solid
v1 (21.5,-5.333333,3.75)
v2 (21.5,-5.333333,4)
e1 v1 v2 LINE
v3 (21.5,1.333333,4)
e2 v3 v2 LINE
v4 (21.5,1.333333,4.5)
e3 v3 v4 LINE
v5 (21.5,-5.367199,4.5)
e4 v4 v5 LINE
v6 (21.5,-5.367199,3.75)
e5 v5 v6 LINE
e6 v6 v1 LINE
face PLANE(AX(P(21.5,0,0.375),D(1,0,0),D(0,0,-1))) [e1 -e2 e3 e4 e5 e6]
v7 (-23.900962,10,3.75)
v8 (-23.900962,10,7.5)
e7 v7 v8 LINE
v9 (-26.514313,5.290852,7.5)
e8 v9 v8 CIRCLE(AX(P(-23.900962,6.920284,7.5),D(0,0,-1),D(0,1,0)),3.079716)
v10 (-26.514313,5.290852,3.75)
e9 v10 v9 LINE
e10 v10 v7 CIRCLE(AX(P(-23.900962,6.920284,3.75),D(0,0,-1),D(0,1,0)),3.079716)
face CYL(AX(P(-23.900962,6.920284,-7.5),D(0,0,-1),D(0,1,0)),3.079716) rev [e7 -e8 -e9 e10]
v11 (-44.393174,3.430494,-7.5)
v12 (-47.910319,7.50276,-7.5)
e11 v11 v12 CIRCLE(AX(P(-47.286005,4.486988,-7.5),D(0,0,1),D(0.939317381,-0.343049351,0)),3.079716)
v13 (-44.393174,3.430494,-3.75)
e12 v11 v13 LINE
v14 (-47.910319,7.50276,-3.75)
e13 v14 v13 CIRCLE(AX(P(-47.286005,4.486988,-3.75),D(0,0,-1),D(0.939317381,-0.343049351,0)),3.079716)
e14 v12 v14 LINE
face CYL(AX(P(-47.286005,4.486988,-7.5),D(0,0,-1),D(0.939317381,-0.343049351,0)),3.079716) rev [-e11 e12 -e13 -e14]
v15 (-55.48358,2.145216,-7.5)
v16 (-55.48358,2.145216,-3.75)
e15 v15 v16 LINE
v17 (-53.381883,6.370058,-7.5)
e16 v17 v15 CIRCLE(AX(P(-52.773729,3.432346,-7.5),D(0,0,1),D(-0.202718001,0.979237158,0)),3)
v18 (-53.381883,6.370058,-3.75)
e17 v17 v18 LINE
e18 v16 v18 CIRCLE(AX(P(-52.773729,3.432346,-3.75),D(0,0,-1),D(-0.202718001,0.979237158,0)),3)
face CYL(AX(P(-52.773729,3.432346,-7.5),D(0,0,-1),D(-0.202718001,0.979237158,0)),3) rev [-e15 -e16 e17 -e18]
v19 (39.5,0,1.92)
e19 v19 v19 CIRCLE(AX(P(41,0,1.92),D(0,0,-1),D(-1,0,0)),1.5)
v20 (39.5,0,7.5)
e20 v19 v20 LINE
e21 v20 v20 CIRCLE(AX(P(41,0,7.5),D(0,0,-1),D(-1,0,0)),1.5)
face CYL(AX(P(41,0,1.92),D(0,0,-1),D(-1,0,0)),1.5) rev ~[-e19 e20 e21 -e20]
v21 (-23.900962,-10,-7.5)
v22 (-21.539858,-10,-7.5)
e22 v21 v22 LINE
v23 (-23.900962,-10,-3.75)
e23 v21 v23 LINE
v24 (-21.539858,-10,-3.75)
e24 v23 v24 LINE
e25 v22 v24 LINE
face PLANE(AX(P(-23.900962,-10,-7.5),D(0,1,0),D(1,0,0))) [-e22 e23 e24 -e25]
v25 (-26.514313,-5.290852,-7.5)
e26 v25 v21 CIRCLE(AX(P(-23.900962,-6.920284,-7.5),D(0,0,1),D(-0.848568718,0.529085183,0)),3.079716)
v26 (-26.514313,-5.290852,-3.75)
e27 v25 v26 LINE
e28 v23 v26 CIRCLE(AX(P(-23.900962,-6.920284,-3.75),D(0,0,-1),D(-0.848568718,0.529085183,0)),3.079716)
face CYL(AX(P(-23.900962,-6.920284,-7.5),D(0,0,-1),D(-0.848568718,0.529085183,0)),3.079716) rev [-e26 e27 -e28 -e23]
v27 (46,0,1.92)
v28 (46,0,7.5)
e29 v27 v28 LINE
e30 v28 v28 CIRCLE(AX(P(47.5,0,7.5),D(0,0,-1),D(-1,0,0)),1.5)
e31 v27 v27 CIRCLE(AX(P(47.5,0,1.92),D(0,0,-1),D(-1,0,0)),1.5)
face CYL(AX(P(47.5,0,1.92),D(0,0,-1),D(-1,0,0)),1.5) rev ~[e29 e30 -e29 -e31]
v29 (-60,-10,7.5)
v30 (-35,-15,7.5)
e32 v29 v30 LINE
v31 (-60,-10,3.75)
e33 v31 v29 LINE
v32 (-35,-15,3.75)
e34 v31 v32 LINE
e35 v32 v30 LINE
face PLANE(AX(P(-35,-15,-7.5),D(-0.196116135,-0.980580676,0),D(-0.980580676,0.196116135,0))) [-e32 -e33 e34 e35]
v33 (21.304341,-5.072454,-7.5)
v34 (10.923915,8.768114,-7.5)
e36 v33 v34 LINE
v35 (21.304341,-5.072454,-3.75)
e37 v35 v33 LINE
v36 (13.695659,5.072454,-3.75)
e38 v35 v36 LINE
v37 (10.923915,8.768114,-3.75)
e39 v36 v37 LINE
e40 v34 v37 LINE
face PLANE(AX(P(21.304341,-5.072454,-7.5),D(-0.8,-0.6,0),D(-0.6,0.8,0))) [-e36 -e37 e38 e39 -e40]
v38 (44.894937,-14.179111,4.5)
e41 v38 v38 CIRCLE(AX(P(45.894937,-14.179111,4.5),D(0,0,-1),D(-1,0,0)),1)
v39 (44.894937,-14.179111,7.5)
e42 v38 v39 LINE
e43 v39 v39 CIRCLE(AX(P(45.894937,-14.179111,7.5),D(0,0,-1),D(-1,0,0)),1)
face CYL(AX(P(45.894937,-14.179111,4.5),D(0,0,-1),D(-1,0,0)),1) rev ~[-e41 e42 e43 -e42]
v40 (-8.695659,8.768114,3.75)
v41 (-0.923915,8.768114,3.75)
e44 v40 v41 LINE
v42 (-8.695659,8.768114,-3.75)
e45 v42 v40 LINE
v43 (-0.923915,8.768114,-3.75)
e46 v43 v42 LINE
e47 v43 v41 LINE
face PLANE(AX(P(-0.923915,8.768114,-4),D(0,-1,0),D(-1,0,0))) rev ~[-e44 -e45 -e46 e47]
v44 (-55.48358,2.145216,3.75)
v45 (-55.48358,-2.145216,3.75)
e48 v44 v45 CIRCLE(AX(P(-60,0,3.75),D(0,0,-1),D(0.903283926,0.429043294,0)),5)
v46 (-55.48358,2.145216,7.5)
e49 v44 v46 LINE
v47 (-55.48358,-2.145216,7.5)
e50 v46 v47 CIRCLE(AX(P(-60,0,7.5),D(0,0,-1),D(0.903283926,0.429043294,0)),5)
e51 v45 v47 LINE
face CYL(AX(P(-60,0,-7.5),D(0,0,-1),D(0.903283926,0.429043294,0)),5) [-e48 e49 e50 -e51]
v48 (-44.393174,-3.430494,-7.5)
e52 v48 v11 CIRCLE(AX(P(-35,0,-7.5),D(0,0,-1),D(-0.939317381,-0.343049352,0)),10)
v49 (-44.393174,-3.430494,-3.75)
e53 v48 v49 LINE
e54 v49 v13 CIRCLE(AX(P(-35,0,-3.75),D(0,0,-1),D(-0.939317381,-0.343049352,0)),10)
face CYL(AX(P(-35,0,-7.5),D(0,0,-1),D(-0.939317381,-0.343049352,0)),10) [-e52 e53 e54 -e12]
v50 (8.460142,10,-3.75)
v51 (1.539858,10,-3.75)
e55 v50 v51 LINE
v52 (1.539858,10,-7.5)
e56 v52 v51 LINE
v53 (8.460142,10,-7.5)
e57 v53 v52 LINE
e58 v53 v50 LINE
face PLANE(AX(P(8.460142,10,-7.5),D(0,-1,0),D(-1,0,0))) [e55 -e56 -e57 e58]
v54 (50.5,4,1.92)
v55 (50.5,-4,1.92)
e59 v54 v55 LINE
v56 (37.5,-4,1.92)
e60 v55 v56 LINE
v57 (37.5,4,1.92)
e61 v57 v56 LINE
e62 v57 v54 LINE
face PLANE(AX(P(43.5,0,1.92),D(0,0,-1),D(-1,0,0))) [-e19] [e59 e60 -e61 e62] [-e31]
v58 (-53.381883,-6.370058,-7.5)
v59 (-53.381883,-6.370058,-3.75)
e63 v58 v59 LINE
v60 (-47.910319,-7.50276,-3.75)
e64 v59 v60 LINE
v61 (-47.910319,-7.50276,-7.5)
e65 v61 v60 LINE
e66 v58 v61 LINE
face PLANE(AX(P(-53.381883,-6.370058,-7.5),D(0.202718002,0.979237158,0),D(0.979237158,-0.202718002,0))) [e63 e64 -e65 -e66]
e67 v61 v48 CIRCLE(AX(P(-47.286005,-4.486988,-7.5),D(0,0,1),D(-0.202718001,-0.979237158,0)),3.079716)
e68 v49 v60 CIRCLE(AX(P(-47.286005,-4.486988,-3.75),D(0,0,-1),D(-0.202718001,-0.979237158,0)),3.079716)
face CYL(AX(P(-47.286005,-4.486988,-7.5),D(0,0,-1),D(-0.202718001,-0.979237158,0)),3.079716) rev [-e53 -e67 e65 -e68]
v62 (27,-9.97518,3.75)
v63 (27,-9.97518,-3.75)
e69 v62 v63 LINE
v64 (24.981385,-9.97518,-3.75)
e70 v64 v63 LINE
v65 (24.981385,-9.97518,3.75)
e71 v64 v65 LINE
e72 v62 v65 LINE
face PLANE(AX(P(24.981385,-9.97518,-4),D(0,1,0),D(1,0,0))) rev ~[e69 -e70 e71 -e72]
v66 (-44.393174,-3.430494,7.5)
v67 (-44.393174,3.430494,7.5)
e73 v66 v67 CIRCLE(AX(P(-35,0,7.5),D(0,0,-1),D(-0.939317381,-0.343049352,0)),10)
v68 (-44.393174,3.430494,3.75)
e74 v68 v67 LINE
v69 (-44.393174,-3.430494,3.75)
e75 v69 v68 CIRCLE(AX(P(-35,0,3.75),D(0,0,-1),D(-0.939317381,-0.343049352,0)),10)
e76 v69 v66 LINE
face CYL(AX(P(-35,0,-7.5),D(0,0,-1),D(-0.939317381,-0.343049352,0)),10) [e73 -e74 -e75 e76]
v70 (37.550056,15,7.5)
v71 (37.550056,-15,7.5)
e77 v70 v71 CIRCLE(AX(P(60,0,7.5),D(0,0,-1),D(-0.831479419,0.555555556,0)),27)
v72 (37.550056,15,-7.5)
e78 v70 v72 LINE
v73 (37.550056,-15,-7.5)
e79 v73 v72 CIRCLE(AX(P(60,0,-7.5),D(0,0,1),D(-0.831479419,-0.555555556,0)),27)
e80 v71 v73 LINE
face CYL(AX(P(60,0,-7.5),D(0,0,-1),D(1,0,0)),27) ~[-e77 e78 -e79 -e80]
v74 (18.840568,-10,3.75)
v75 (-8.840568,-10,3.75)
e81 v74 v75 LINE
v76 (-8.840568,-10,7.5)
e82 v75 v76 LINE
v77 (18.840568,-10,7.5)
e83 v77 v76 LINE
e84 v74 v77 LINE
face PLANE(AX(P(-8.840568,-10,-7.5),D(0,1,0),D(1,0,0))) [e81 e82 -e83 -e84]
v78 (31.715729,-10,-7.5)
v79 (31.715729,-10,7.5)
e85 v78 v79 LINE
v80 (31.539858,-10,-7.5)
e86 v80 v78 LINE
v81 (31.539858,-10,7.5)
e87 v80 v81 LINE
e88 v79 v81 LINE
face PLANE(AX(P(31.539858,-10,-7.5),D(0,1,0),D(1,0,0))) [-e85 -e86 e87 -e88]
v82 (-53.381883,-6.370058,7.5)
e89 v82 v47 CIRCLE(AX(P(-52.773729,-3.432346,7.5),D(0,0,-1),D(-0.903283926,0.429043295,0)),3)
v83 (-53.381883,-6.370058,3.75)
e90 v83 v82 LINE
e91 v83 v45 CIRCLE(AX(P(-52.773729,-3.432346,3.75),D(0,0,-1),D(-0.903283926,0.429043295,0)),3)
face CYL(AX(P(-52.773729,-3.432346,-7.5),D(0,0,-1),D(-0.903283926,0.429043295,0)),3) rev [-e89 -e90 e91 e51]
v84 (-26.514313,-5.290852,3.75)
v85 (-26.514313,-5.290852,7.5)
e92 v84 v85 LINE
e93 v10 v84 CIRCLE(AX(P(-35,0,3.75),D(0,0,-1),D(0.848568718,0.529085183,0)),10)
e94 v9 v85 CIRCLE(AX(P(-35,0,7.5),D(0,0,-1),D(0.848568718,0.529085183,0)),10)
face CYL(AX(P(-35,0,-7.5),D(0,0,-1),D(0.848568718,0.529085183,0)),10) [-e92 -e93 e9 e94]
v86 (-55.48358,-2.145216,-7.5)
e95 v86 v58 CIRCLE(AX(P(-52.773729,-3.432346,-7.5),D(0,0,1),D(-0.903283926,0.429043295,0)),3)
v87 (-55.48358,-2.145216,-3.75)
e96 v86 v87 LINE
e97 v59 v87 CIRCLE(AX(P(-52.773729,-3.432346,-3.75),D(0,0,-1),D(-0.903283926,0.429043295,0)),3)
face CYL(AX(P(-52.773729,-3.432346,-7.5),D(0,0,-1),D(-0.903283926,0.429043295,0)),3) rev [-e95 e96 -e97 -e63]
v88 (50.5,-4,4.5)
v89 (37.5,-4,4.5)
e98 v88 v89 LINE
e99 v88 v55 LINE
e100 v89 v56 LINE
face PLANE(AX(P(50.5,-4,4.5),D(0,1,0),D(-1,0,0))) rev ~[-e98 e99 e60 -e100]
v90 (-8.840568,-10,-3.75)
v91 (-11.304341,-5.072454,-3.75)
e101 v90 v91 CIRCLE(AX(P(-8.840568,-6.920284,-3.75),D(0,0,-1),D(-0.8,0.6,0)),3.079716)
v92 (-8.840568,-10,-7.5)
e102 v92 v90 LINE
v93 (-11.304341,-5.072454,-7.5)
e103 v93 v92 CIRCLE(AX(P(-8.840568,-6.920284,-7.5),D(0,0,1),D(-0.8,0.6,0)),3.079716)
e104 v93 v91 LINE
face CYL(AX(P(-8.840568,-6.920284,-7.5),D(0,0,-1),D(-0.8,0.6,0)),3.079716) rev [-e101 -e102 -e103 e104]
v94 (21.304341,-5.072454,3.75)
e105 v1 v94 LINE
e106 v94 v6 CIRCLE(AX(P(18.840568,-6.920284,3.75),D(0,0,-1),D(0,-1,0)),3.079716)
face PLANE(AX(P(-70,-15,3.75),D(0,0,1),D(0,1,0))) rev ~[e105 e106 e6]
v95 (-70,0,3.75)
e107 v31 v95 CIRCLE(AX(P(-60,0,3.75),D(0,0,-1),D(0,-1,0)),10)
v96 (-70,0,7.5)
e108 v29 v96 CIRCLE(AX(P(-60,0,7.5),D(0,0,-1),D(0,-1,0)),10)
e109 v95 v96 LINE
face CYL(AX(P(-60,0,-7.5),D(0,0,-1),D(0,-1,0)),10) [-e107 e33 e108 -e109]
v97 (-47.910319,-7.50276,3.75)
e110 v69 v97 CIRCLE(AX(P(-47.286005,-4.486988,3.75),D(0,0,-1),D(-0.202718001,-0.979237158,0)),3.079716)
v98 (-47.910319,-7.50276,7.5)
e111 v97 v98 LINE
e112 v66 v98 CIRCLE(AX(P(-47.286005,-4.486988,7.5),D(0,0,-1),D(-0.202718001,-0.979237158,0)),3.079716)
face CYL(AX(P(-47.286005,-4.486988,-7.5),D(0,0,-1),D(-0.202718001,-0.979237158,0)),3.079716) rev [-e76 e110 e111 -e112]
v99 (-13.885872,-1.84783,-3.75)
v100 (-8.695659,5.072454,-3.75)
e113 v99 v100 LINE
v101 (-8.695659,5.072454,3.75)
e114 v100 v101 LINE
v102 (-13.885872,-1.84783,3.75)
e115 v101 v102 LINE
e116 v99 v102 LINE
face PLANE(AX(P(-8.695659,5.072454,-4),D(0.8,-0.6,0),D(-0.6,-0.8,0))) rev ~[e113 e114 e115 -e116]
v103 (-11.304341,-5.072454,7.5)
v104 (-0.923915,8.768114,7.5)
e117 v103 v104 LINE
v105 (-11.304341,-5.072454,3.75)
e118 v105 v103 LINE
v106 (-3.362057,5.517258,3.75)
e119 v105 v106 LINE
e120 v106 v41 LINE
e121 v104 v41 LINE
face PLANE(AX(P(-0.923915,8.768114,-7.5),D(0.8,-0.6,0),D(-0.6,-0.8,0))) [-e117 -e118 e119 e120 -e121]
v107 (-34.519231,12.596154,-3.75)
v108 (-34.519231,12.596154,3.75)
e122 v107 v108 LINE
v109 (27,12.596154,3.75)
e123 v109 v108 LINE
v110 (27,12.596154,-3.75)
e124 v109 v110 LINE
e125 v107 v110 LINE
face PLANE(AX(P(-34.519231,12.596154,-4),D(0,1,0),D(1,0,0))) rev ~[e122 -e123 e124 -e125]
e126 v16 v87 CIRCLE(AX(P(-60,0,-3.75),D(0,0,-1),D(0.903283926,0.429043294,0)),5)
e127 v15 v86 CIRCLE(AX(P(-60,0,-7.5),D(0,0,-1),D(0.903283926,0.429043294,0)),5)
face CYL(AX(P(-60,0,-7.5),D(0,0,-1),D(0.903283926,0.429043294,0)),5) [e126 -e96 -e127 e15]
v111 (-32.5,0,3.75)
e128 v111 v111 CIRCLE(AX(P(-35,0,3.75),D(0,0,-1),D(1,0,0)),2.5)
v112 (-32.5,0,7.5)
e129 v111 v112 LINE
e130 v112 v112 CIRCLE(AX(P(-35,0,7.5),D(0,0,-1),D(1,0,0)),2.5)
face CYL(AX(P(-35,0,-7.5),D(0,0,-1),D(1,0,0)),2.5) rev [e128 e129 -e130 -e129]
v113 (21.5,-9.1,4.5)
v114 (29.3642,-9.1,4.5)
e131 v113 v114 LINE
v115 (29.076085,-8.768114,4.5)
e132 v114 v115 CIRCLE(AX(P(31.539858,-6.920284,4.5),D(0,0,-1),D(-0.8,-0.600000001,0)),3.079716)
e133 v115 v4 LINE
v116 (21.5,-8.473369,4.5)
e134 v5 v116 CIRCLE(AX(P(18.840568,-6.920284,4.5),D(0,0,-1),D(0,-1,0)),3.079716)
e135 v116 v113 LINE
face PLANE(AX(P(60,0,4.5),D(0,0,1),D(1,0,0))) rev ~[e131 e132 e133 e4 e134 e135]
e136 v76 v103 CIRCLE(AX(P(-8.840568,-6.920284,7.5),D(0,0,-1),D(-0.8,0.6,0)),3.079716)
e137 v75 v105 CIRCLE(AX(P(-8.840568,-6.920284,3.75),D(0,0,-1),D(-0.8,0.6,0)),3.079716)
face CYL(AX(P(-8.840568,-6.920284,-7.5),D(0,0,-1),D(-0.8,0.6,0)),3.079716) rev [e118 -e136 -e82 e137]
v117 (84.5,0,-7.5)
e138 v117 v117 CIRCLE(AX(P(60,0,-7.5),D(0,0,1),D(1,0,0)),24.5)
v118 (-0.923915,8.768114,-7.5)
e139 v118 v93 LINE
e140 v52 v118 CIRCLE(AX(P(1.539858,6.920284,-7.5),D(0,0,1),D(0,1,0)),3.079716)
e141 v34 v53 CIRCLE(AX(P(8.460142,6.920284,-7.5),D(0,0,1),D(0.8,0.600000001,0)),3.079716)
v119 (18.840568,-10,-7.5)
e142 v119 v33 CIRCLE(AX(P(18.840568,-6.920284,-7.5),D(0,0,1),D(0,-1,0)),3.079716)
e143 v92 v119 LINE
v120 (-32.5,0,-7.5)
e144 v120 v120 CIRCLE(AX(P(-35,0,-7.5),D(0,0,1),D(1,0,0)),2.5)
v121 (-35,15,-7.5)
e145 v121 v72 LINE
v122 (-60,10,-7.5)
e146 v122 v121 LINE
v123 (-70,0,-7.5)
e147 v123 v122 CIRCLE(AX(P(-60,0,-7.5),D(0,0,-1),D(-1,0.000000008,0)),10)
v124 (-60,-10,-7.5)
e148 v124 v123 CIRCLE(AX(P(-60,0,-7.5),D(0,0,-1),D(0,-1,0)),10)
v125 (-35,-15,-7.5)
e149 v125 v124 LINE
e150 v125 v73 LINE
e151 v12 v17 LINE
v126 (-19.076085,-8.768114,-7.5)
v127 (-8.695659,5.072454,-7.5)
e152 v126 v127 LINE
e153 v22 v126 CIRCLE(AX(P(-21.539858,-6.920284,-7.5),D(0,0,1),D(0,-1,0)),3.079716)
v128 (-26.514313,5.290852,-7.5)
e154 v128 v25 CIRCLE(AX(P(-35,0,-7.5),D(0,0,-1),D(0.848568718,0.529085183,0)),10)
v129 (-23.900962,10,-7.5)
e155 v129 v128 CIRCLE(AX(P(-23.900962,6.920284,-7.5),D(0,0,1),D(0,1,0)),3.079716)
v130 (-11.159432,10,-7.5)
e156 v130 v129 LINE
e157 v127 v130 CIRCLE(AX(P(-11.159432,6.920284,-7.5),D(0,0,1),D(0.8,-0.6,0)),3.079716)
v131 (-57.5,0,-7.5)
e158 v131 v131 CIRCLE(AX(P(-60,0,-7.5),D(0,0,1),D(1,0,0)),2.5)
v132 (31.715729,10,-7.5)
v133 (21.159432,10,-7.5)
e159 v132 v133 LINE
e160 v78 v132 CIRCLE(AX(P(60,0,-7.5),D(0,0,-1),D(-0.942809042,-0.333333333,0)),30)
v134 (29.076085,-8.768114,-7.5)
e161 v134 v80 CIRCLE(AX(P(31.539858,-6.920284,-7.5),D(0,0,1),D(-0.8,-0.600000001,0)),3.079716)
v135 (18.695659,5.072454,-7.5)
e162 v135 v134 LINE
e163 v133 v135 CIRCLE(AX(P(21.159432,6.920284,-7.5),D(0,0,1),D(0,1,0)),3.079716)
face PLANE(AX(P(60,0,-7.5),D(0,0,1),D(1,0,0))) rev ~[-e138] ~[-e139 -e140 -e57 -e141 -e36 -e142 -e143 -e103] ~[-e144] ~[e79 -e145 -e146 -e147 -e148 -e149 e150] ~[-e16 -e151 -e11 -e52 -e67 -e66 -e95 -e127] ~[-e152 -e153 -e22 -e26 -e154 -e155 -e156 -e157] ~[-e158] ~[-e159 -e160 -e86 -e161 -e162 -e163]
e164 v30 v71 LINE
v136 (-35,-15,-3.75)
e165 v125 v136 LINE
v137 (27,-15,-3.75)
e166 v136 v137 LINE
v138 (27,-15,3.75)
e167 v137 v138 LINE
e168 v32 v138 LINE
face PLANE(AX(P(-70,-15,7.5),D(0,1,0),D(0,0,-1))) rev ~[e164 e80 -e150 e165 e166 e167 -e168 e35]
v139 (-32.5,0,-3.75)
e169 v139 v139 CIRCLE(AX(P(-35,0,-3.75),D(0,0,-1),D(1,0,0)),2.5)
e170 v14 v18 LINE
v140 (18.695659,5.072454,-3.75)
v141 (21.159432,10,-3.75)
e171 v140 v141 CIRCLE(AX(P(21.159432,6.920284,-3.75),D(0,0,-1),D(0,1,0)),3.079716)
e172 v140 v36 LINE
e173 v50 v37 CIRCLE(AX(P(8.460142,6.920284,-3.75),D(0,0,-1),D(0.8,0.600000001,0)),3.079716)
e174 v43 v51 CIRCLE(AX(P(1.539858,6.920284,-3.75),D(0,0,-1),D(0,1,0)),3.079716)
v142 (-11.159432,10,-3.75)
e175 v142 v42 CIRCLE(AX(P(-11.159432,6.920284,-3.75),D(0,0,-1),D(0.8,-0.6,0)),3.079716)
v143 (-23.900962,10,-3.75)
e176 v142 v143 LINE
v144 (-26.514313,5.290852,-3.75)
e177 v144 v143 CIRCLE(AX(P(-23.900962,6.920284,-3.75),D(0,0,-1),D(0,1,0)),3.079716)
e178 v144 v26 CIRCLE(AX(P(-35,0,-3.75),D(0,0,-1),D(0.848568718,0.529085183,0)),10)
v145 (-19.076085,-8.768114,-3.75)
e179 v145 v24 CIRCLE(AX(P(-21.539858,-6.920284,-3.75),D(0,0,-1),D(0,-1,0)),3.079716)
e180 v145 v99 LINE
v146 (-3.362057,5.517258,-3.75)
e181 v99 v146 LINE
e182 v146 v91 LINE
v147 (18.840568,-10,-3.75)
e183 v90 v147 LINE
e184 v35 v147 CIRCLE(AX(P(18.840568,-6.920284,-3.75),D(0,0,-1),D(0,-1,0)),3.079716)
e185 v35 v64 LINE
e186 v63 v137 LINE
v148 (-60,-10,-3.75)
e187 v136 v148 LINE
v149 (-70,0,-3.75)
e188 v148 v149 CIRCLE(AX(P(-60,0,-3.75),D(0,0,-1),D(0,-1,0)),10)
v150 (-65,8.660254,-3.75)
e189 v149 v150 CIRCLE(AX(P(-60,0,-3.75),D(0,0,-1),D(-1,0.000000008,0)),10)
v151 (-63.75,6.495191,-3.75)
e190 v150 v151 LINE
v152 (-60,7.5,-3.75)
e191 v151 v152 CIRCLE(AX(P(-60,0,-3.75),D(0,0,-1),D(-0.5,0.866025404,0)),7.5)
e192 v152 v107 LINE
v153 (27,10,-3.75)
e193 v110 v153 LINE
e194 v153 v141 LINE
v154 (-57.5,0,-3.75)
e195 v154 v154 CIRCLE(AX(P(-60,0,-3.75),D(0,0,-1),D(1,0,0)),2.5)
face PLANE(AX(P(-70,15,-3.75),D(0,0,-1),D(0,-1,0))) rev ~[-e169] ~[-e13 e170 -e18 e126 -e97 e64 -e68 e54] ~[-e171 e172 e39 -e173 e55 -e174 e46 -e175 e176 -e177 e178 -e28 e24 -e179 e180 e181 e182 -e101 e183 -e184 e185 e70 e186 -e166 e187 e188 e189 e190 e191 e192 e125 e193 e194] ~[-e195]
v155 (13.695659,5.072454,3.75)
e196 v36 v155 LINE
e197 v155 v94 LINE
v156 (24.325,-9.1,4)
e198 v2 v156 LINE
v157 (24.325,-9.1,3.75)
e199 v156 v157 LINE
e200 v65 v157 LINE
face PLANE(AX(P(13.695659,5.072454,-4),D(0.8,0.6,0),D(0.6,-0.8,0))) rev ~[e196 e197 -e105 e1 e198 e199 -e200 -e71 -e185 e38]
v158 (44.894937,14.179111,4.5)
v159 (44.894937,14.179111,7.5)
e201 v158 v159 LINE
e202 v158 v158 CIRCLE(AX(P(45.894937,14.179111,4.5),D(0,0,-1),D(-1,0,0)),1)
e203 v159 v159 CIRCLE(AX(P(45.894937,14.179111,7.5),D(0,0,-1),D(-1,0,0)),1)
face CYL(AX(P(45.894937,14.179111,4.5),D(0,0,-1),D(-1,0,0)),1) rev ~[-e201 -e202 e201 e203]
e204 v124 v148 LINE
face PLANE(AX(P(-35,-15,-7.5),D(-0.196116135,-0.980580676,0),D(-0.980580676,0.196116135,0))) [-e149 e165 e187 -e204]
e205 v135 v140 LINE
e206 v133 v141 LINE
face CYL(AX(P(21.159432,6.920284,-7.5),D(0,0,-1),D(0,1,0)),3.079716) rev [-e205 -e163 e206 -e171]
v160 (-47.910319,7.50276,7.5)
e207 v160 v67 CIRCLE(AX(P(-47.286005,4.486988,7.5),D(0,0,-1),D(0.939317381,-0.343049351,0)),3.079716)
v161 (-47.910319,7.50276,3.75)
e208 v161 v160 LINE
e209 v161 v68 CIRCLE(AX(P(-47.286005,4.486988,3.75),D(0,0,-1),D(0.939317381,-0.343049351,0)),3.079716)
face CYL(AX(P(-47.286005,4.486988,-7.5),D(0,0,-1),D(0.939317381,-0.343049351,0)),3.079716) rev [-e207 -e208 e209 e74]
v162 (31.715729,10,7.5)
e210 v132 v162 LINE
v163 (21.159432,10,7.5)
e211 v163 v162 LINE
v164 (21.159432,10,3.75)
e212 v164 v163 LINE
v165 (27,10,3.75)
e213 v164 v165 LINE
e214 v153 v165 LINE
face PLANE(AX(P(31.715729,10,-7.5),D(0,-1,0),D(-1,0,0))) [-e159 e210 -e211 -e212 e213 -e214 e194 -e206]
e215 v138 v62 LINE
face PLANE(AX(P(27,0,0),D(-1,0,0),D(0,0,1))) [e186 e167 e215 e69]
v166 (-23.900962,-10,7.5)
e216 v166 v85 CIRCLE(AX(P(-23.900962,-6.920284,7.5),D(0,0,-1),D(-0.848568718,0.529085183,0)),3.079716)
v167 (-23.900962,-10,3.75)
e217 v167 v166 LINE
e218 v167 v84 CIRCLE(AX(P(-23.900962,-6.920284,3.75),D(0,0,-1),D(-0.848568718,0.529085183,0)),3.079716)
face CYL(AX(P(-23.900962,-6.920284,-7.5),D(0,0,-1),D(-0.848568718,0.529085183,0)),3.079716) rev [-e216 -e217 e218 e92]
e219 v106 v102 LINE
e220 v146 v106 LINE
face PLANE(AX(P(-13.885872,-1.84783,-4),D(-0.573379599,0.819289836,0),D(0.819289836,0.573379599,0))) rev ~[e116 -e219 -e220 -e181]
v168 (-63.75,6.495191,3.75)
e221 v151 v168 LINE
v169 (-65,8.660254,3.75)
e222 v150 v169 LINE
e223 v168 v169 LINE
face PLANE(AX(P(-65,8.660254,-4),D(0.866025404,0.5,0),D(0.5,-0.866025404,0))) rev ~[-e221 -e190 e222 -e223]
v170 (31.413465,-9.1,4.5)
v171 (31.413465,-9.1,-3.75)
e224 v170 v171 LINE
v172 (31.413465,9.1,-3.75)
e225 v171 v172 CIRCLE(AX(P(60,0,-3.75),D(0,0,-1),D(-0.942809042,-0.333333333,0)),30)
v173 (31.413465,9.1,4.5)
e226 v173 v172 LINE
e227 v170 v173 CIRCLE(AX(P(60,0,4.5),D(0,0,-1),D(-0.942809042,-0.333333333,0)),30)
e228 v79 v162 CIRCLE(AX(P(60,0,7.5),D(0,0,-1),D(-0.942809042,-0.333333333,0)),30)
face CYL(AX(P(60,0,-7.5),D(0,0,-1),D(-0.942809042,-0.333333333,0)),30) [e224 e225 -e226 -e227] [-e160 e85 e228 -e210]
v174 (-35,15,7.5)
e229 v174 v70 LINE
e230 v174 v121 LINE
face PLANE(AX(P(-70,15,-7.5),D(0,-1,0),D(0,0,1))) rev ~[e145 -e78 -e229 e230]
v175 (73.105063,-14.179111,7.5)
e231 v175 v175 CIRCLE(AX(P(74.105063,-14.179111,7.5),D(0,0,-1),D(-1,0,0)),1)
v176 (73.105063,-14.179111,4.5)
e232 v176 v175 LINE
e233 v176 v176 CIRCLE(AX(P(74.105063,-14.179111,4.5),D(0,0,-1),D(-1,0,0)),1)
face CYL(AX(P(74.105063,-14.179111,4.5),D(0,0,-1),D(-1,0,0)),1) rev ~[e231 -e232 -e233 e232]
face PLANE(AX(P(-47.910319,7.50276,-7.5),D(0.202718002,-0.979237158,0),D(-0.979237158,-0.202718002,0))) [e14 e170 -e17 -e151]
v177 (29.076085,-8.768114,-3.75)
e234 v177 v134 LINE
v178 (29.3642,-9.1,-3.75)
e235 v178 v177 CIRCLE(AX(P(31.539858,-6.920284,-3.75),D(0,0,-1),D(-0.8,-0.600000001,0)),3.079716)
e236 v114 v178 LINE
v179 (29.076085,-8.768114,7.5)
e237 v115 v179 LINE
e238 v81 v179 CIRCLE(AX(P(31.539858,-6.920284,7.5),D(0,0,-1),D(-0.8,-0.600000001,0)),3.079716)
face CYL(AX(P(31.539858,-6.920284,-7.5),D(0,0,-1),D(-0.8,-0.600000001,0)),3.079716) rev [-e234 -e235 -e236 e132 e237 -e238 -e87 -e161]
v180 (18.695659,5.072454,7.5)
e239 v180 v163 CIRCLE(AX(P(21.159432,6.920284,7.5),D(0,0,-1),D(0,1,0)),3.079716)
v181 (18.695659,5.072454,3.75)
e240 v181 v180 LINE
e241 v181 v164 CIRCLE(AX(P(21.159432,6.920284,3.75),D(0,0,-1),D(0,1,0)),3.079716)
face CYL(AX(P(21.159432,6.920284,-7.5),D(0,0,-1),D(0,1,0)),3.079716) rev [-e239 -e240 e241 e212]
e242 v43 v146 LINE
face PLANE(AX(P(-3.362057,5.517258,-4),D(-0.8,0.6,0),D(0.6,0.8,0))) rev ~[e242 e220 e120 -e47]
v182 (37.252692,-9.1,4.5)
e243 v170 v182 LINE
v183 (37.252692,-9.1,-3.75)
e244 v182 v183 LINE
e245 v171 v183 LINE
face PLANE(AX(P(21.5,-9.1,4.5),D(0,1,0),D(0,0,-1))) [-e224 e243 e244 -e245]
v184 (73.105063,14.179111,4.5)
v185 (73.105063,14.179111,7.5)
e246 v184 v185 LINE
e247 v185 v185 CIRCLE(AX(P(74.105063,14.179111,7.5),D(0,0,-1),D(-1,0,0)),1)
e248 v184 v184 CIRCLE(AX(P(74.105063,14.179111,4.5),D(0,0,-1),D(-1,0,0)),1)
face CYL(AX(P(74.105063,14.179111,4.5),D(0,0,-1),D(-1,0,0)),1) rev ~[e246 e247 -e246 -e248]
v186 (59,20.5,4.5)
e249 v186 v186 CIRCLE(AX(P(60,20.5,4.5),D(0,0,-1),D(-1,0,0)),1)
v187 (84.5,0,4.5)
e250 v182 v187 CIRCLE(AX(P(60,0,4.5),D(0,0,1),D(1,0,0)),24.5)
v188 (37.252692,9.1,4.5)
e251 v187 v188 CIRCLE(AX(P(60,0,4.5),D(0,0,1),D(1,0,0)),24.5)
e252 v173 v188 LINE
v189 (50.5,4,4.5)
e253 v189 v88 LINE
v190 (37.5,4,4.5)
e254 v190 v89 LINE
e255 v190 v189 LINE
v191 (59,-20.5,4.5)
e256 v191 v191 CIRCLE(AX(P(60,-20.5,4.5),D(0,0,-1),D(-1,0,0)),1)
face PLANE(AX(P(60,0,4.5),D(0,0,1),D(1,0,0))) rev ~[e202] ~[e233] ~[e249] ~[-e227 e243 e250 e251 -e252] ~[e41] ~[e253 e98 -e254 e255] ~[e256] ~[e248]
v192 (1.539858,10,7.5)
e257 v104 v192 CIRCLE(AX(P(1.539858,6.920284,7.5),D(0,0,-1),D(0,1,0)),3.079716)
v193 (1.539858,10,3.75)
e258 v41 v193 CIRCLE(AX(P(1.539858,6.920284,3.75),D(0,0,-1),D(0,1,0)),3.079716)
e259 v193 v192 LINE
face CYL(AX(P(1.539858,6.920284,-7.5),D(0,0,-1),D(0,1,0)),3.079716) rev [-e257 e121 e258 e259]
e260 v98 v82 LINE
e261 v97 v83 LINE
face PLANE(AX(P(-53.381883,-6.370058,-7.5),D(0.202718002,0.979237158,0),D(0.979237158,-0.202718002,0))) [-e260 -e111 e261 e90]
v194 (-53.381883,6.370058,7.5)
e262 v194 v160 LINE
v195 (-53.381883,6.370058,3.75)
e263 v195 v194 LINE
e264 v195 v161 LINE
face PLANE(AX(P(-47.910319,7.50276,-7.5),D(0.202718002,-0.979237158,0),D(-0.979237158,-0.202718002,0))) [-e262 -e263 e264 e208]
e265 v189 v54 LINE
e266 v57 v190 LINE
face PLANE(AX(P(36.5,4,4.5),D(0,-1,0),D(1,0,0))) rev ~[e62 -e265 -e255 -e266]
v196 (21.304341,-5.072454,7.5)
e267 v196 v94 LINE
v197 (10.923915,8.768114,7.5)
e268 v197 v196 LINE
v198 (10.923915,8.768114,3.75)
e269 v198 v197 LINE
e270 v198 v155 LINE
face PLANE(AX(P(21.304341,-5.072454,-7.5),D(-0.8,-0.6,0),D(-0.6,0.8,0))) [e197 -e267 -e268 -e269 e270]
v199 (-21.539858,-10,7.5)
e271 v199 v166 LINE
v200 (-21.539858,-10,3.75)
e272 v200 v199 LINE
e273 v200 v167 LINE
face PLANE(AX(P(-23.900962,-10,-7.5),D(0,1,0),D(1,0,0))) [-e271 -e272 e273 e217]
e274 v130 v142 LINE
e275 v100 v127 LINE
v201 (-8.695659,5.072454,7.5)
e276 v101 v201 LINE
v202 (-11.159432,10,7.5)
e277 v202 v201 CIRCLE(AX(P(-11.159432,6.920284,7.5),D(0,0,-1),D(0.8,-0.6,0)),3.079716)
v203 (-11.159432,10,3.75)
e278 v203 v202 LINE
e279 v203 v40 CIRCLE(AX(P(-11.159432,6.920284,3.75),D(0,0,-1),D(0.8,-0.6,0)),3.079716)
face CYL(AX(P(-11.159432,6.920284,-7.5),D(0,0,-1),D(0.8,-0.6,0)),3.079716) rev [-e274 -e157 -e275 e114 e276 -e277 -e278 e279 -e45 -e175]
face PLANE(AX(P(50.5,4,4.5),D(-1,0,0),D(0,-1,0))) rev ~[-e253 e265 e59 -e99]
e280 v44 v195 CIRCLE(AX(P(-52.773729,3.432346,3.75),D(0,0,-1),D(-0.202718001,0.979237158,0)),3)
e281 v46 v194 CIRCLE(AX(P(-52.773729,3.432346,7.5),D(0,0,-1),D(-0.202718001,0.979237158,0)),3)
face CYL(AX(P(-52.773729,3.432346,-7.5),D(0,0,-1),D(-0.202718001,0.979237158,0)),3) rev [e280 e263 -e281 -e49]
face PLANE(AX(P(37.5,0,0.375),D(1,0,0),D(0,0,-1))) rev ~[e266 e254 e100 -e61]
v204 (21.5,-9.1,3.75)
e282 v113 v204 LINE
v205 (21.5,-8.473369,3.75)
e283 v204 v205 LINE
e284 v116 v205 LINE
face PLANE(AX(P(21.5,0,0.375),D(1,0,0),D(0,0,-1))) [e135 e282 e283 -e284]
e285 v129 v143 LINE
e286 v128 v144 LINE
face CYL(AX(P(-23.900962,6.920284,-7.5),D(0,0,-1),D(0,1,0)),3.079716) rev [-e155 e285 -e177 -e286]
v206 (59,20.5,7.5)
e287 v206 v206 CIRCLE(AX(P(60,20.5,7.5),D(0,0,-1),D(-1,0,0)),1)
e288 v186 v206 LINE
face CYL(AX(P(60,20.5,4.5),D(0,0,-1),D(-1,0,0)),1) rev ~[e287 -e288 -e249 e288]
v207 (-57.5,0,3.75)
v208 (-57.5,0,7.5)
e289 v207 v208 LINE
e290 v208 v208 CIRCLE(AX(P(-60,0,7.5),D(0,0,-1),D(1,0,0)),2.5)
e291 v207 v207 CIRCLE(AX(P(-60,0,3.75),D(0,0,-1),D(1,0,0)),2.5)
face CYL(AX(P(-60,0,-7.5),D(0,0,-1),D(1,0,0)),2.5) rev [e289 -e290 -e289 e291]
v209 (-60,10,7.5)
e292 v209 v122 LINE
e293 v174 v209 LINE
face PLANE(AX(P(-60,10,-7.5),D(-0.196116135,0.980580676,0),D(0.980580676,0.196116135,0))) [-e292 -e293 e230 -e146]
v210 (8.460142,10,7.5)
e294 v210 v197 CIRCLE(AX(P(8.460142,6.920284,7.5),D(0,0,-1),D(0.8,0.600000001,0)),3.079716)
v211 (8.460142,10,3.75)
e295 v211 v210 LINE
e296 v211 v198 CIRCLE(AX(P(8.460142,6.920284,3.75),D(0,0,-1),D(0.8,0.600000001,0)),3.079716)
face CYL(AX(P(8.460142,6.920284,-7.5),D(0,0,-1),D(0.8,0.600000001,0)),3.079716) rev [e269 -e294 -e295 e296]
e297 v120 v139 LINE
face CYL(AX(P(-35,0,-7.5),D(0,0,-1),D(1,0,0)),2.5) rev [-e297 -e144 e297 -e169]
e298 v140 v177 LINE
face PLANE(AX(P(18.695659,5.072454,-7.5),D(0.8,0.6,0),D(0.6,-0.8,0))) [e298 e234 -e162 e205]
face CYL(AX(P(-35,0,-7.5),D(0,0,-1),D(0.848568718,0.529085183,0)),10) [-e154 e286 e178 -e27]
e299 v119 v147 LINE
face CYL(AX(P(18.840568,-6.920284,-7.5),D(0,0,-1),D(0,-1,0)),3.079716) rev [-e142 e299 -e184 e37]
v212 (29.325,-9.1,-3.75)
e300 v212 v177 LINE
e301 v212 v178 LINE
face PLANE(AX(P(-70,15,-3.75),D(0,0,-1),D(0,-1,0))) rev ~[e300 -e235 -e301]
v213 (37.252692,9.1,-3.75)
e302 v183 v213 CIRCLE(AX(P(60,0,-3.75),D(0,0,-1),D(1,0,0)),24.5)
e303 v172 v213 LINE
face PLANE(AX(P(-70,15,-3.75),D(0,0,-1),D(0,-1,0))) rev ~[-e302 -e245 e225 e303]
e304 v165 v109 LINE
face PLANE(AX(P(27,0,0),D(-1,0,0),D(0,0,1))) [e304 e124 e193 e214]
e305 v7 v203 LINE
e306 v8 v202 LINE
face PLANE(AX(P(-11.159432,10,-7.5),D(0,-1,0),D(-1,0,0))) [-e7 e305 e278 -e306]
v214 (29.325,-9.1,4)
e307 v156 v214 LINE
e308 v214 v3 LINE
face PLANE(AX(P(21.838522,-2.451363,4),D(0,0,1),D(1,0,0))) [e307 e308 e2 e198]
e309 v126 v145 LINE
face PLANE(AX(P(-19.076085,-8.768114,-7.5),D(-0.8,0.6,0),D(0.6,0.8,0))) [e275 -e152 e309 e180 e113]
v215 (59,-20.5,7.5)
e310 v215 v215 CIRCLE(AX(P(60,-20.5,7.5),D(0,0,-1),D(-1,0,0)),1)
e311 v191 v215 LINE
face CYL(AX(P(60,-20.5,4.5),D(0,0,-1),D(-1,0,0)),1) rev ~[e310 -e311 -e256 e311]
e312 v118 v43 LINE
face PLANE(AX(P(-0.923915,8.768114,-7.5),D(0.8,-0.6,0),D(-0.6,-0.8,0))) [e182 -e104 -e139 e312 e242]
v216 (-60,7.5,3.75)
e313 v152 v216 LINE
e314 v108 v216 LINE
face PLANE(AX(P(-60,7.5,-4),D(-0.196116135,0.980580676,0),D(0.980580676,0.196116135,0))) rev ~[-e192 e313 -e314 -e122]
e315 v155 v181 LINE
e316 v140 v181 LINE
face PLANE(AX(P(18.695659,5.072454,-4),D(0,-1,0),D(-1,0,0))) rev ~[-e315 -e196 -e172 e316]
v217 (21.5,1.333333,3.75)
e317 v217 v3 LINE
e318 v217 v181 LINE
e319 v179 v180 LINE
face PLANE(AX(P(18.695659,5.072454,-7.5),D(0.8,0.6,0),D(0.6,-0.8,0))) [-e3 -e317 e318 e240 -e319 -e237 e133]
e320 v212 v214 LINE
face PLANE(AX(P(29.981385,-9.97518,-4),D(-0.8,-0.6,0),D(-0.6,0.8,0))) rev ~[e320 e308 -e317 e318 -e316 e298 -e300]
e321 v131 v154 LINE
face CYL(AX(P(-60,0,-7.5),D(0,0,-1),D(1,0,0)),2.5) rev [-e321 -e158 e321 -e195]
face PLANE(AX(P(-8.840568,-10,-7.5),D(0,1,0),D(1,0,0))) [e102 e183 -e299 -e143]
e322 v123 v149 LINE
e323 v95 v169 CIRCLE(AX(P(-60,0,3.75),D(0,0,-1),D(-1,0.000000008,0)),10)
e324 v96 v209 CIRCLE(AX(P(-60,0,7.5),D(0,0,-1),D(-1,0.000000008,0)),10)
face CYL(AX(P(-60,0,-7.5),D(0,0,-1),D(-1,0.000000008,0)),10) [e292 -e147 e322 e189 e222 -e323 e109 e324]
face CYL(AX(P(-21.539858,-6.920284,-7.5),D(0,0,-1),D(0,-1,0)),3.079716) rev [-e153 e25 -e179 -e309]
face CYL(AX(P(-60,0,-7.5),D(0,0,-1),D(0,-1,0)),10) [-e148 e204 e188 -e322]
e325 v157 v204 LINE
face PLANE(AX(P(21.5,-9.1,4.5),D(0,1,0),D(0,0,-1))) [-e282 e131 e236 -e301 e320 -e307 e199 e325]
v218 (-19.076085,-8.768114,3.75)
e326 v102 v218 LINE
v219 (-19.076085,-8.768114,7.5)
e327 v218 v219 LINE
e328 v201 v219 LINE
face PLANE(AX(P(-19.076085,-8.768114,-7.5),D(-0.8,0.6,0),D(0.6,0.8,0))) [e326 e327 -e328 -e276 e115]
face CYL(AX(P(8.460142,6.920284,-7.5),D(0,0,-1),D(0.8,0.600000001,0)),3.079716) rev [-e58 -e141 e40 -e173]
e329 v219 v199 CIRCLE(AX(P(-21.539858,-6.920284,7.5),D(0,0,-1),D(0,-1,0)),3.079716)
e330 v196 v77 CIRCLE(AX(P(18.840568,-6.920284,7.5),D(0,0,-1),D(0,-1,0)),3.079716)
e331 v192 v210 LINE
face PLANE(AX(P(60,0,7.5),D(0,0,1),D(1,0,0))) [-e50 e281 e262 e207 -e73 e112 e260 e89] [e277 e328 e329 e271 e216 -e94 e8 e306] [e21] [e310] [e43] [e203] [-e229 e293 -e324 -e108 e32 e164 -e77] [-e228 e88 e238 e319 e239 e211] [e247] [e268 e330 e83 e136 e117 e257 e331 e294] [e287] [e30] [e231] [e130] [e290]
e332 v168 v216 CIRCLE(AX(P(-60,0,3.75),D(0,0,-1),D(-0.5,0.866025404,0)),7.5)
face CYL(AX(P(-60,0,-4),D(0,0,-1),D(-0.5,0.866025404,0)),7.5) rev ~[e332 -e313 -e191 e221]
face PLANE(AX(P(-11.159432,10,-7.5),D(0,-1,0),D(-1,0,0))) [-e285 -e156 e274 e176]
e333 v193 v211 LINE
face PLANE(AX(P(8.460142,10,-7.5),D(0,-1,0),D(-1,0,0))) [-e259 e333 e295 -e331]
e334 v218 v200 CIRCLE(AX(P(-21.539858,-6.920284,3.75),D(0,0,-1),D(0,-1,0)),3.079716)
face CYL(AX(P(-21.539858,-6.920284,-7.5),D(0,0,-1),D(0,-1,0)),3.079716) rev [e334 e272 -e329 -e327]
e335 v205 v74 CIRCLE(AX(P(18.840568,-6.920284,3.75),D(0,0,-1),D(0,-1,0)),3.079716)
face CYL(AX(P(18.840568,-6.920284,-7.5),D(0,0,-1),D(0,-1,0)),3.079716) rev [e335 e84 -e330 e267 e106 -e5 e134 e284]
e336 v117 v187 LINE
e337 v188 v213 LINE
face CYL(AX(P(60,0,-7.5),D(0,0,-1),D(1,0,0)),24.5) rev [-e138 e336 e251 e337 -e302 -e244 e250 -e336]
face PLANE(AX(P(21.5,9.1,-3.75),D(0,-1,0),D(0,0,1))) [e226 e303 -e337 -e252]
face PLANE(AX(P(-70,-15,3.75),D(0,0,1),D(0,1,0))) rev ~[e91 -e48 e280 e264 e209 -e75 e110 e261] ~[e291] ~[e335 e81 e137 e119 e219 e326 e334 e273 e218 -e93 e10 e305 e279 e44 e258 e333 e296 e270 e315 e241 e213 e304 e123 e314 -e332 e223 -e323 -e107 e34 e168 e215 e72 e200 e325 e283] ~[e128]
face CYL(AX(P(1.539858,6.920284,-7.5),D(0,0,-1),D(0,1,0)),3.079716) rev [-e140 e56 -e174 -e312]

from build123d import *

# Parameters (mm, degrees)
EXTRUDE_1_DEPTH          = 60
EXTRUDE_1_DEPTH_BACK     = 70
EXTRUDE_2_DEPTH          = 7.5
EXTRUDE_2_DEPTH_BACK     = 7.5
SKETCH_2_R               = 27
SKETCH_2_R_2             = 23.5
CUT_EXTRUDE_1_DEPTH      = 7.5
CUT_EXTRUDE_1_DEPTH_BACK = 7.5
SKETCH_3_R               = 24.5
SKETCH_4_R               = 24.5
EXTRUDE_3_DEPTH          = 3
EXTRUDE_4_DEPTH          = 2.58
SKETCH_6_R               = 1
CUT_EXTRUDE_2_DEPTH      = 3
SKETCH_7_R               = 1.5
CUT_EXTRUDE_3_DEPTH      = 5.58
CUT_EXTRUDE_4_DEPTH      = 97
CUT_EXTRUDE_5_DEPTH      = 1
CUT_EXTRUDE_5_DEPTH_BACK = 15
CUT_EXTRUDE_6_DEPTH      = 92.401586419
CUT_EXTRUDE_6_DEPTH_BACK = 7.5
SKETCH_10_R              = 2.5
EXTRUDE_6_DEPTH          = 4
EXTRUDE_6_DEPTH_BACK     = 4
EXTRUDE_7_DEPTH          = 4
EXTRUDE_7_DEPTH_BACK     = 4


with BuildPart() as part:
    # 草图1 → 凸台-拉伸1 (new, two sides: drawn at the far end of the back side and taken through both)
    with BuildSketch(Plane(origin=(0, 0, 0), x_dir=(0, 0, -1), z_dir=(1, 0, 0)).offset(-EXTRUDE_1_DEPTH_BACK)):
        Polygon((7.5, 0), (7.5, 15), (-7.5, 15), (-7.5, -15), (7.5, -15), align=None)
    extrude(amount=EXTRUDE_1_DEPTH + EXTRUDE_1_DEPTH_BACK)

    # 草图2 → 凸台-拉伸2 (add, two sides: drawn at the far end of the back side and taken through both)
    with BuildSketch(Plane.XY.offset(-EXTRUDE_2_DEPTH_BACK)):
        with Locations((60, 0)):
            Circle(SKETCH_2_R)
        with Locations((60, 0)):
            Circle(SKETCH_2_R_2, mode=Mode.SUBTRACT)
    extrude(amount=EXTRUDE_2_DEPTH + EXTRUDE_2_DEPTH_BACK)

    # 草图3 → 切除-拉伸1 (cut, two sides: drawn at the far end of the back side and taken through both)
    with BuildSketch(Plane.XY.offset(-CUT_EXTRUDE_1_DEPTH_BACK)):
        with Locations((60, 0)):
            Circle(SKETCH_3_R)
    extrude(amount=CUT_EXTRUDE_1_DEPTH + CUT_EXTRUDE_1_DEPTH_BACK, mode=Mode.SUBTRACT)

    # 草图4 → 凸台-拉伸3 (add)
    with BuildSketch(Plane.XY.offset(7.5)):
        with Locations((60, 0)):
            Circle(SKETCH_4_R)
    extrude(amount=-EXTRUDE_3_DEPTH)

    # 草图5 → 凸台-拉伸4 (add)
    with BuildSketch(Plane(origin=(0, 0, 4.5), x_dir=(-1, 0, 0), z_dir=(0, 0, -1))):
        Polygon((-36.5, 0), (-36.5, 4), (-40.5, 4), (-45.5, 4), (-50.5, 4), (-50.5, 0), (-50.5, -4), (-36.5, -4), align=None)
    extrude(amount=EXTRUDE_4_DEPTH)

    # 草图6 → 切除-拉伸2 (cut)
    with BuildSketch(Plane(origin=(0, 0, 4.5), x_dir=(-1, 0, 0), z_dir=(0, 0, -1))):
        with Locations((-60, 20.5)):
            Circle(SKETCH_6_R)
        with Locations((-60, -20.5)):
            Circle(SKETCH_6_R)
        with Locations((-45.894936823, 14.179111142)):
            Circle(SKETCH_6_R)
        with Locations((-74.105063177, 14.179111142)):
            Circle(SKETCH_6_R)
        with Locations((-74.105063177, -14.179111142)):
            Circle(SKETCH_6_R)
        with Locations((-45.894936823, -14.179111142)):
            Circle(SKETCH_6_R)
    extrude(amount=-CUT_EXTRUDE_2_DEPTH, mode=Mode.SUBTRACT)

    # 草图7 → 切除-拉伸3 (cut)
    with BuildSketch(Plane(origin=(0, 0, 1.92), x_dir=(-1, 0, 0), z_dir=(0, 0, -1))):
        with Locations((-47.5, 0)):
            Circle(SKETCH_7_R)
        with Locations((-41, 0)):
            Circle(SKETCH_7_R)
    extrude(amount=-CUT_EXTRUDE_3_DEPTH, mode=Mode.SUBTRACT)

    # 草图8 → 切除-拉伸4 (cut)
    with BuildSketch(Plane.ZY.offset(70)):
        Polygon((0, 15), (-3.75, 15), (-3.75, -15), (3.75, -15), (3.75, 15), align=None)
    extrude(amount=-CUT_EXTRUDE_4_DEPTH, mode=Mode.SUBTRACT)

    # 草图9 → 切除-拉伸5 (cut, two sides: drawn at the far end of the back side and taken through both)
    with BuildSketch(Plane(origin=(36.5, 0, 0), x_dir=(0, 0, -1), z_dir=(1, 0, 0)).offset(-CUT_EXTRUDE_5_DEPTH_BACK)):
        Polygon((3.75, -9.1), (3.75, 0), (3.75, 9.1), (-4.5, 9.1), (-4.5, -9.1), align=None)
    extrude(amount=CUT_EXTRUDE_5_DEPTH + CUT_EXTRUDE_5_DEPTH_BACK, mode=Mode.SUBTRACT)

    # 草图10 → 切除-拉伸6 (cut, two sides: drawn at the far end of the back side and taken through both)
    with BuildSketch(Plane.XY.offset(-CUT_EXTRUDE_6_DEPTH_BACK)):
        with BuildLine():
            ThreePointArc((-60, -10), (-67.071067841, -7.071067782), (-70, 8.3e-08))
            Line((-70, 8.3e-08), (-70, -15))
            Line((-70, -15), (-35, -15))
            Line((-35, -15), (-60, -10))
        make_face()
        with BuildLine():
            Line((-60, 10), (-35, 15))
            Line((-35, 15), (-70, 15))
            Line((-70, 15), (-70, 8.3e-08))
            ThreePointArc((-70, 8.3e-08), (-67.071067782, 7.071067841), (-60, 10))
        make_face()
        with BuildLine():
            Line((-47.910318504, 7.502760494), (-53.381882594, 6.370057829))
            ThreePointArc((-53.381882594, 6.370057829), (-55.459731516, 4.768530579), (-55.483580368, 2.145216472))
            ThreePointArc((-55.483580368, 2.145216472), (-55, 0), (-55.483580368, -2.145216472))
            ThreePointArc((-55.483580368, -2.145216472), (-55.459731516, -4.768530579), (-53.381882594, -6.370057829))
            Line((-53.381882594, -6.370057829), (-47.910318504, -7.502760494))
            ThreePointArc((-47.910318504, -7.502760494), (-44.955257563, -6.500012961), (-44.393173811, -3.430493514))
            ThreePointArc((-44.393173811, -3.430493514), (-45, 0), (-44.393173811, 3.430493514))
            ThreePointArc((-44.393173811, 3.430493514), (-44.955257563, 6.500012961), (-47.910318504, 7.502760494))
        make_face()
        with BuildLine():
            Line((-11.159432091, 10), (-23.900962122, 10))
            ThreePointArc((-23.900962122, 10), (-26.593808125, 8.414683944), (-26.514312819, 5.290851828))
            ThreePointArc((-26.514312819, 5.290851828), (-25, 0), (-26.514312819, -5.290851828))
            ThreePointArc((-26.514312819, -5.290851828), (-26.593808125, -8.414683944), (-23.900962122, -10))
            Line((-23.900962122, -10), (-21.539858023, -10))
            ThreePointArc((-21.539858023, -10), (-20.162567137, -9.674865726), (-19.076085186, -8.768113582))
            Line((-19.076085186, -8.768113582), (-8.695659254, 5.072454327))
            ThreePointArc((-8.695659254, 5.072454327), (-8.404850319, 8.29757484), (-11.159432091, 10))
        make_face()
        with BuildLine():
            Line((-0.923914814, 8.768113582), (-11.304340746, -5.072454327))
            ThreePointArc((-11.304340746, -5.072454327), (-11.595149681, -8.29757484), (-8.840567909, -10))
            Line((-8.840567909, -10), (18.840567909, -10))
            ThreePointArc((18.840567909, -10), (21.595149681, -8.29757484), (21.304340746, -5.072454327))
            Line((21.304340746, -5.072454327), (10.923914814, 8.768113582))
            ThreePointArc((10.923914814, 8.768113582), (9.837432863, 9.674865726), (8.460141977, 10))
            Line((8.460141977, 10), (1.539858023, 10))
            ThreePointArc((1.539858023, 10), (0.162567137, 9.674865726), (-0.923914814, 8.768113582))
        make_face()
        with BuildLine():
            ThreePointArc((21.159432091, 10), (18.404850319, 8.29757484), (18.695659254, 5.072454327))
            Line((18.695659254, 5.072454327), (29.076085186, -8.768113582))
            ThreePointArc((29.076085186, -8.768113582), (30.162567137, -9.674865726), (31.539858023, -10))
            Line((31.539858023, -10), (31.715728753, -10))
            ThreePointArc((31.715728753, -10), (30, 0), (31.715728753, 10))
            Line((31.715728753, 10), (21.159432091, 10))
        make_face()
        with Locations((-60, 0)):
            Circle(SKETCH_10_R)
        with Locations((-35, 0)):
            Circle(SKETCH_10_R)
    extrude(amount=CUT_EXTRUDE_6_DEPTH + CUT_EXTRUDE_6_DEPTH_BACK, mode=Mode.SUBTRACT)

    # 草图12 → 凸台-拉伸6 (add, two sides: drawn at the far end of the back side and taken through both)
    with BuildSketch(Plane.XY.offset(-EXTRUDE_6_DEPTH_BACK)):
        Polygon((18.695659254, 5.072454327), (13.695659254, 5.072454327), (24.981384918, -9.975179891), (29.981384918, -9.975179891), align=None)
        with BuildLine():
            ThreePointArc((-8.695659254, 8.768113582), (-8.079716045, 6.920283955), (-8.695659254, 5.072454327))
            Line((-8.695659254, 5.072454327), (-13.88587222, -1.847829627))
            Line((-13.88587222, -1.847829627), (-3.362056873, 5.517257503))
            Line((-3.362056873, 5.517257503), (-0.923914814, 8.768113582))
            Line((-0.923914814, 8.768113582), (-8.695659254, 8.768113582))
        make_face()
    extrude(amount=EXTRUDE_6_DEPTH + EXTRUDE_6_DEPTH_BACK)

    # 草图11 → 凸台-拉伸7 (add, two sides: drawn at the far end of the back side and taken through both)
    with BuildSketch(Plane.XY.offset(-EXTRUDE_7_DEPTH_BACK)):
        with BuildLine():
            Line((-65, 8.660254038), (-63.75, 6.495190528))
            ThreePointArc((-63.75, 6.495190528), (-61.941142838, 7.244443697), (-60, 7.5))
            Line((-60, 7.5), (-34.519230769, 12.596153846))
            Line((-34.519230769, 12.596153846), (32.772497208, 12.596153846))
            ThreePointArc((32.772497208, 12.596153846), (33.368731111, 13.812151076), (34.019237886, 15))
            Line((34.019237886, 15), (-35, 15))
            Line((-35, 15), (-60, 10))
            ThreePointArc((-60, 10), (-62.588190451, 9.659258263), (-65, 8.660254038))
        make_face()
    extrude(amount=EXTRUDE_7_DEPTH + EXTRUDE_7_DEPTH_BACK)


solid = part.part
